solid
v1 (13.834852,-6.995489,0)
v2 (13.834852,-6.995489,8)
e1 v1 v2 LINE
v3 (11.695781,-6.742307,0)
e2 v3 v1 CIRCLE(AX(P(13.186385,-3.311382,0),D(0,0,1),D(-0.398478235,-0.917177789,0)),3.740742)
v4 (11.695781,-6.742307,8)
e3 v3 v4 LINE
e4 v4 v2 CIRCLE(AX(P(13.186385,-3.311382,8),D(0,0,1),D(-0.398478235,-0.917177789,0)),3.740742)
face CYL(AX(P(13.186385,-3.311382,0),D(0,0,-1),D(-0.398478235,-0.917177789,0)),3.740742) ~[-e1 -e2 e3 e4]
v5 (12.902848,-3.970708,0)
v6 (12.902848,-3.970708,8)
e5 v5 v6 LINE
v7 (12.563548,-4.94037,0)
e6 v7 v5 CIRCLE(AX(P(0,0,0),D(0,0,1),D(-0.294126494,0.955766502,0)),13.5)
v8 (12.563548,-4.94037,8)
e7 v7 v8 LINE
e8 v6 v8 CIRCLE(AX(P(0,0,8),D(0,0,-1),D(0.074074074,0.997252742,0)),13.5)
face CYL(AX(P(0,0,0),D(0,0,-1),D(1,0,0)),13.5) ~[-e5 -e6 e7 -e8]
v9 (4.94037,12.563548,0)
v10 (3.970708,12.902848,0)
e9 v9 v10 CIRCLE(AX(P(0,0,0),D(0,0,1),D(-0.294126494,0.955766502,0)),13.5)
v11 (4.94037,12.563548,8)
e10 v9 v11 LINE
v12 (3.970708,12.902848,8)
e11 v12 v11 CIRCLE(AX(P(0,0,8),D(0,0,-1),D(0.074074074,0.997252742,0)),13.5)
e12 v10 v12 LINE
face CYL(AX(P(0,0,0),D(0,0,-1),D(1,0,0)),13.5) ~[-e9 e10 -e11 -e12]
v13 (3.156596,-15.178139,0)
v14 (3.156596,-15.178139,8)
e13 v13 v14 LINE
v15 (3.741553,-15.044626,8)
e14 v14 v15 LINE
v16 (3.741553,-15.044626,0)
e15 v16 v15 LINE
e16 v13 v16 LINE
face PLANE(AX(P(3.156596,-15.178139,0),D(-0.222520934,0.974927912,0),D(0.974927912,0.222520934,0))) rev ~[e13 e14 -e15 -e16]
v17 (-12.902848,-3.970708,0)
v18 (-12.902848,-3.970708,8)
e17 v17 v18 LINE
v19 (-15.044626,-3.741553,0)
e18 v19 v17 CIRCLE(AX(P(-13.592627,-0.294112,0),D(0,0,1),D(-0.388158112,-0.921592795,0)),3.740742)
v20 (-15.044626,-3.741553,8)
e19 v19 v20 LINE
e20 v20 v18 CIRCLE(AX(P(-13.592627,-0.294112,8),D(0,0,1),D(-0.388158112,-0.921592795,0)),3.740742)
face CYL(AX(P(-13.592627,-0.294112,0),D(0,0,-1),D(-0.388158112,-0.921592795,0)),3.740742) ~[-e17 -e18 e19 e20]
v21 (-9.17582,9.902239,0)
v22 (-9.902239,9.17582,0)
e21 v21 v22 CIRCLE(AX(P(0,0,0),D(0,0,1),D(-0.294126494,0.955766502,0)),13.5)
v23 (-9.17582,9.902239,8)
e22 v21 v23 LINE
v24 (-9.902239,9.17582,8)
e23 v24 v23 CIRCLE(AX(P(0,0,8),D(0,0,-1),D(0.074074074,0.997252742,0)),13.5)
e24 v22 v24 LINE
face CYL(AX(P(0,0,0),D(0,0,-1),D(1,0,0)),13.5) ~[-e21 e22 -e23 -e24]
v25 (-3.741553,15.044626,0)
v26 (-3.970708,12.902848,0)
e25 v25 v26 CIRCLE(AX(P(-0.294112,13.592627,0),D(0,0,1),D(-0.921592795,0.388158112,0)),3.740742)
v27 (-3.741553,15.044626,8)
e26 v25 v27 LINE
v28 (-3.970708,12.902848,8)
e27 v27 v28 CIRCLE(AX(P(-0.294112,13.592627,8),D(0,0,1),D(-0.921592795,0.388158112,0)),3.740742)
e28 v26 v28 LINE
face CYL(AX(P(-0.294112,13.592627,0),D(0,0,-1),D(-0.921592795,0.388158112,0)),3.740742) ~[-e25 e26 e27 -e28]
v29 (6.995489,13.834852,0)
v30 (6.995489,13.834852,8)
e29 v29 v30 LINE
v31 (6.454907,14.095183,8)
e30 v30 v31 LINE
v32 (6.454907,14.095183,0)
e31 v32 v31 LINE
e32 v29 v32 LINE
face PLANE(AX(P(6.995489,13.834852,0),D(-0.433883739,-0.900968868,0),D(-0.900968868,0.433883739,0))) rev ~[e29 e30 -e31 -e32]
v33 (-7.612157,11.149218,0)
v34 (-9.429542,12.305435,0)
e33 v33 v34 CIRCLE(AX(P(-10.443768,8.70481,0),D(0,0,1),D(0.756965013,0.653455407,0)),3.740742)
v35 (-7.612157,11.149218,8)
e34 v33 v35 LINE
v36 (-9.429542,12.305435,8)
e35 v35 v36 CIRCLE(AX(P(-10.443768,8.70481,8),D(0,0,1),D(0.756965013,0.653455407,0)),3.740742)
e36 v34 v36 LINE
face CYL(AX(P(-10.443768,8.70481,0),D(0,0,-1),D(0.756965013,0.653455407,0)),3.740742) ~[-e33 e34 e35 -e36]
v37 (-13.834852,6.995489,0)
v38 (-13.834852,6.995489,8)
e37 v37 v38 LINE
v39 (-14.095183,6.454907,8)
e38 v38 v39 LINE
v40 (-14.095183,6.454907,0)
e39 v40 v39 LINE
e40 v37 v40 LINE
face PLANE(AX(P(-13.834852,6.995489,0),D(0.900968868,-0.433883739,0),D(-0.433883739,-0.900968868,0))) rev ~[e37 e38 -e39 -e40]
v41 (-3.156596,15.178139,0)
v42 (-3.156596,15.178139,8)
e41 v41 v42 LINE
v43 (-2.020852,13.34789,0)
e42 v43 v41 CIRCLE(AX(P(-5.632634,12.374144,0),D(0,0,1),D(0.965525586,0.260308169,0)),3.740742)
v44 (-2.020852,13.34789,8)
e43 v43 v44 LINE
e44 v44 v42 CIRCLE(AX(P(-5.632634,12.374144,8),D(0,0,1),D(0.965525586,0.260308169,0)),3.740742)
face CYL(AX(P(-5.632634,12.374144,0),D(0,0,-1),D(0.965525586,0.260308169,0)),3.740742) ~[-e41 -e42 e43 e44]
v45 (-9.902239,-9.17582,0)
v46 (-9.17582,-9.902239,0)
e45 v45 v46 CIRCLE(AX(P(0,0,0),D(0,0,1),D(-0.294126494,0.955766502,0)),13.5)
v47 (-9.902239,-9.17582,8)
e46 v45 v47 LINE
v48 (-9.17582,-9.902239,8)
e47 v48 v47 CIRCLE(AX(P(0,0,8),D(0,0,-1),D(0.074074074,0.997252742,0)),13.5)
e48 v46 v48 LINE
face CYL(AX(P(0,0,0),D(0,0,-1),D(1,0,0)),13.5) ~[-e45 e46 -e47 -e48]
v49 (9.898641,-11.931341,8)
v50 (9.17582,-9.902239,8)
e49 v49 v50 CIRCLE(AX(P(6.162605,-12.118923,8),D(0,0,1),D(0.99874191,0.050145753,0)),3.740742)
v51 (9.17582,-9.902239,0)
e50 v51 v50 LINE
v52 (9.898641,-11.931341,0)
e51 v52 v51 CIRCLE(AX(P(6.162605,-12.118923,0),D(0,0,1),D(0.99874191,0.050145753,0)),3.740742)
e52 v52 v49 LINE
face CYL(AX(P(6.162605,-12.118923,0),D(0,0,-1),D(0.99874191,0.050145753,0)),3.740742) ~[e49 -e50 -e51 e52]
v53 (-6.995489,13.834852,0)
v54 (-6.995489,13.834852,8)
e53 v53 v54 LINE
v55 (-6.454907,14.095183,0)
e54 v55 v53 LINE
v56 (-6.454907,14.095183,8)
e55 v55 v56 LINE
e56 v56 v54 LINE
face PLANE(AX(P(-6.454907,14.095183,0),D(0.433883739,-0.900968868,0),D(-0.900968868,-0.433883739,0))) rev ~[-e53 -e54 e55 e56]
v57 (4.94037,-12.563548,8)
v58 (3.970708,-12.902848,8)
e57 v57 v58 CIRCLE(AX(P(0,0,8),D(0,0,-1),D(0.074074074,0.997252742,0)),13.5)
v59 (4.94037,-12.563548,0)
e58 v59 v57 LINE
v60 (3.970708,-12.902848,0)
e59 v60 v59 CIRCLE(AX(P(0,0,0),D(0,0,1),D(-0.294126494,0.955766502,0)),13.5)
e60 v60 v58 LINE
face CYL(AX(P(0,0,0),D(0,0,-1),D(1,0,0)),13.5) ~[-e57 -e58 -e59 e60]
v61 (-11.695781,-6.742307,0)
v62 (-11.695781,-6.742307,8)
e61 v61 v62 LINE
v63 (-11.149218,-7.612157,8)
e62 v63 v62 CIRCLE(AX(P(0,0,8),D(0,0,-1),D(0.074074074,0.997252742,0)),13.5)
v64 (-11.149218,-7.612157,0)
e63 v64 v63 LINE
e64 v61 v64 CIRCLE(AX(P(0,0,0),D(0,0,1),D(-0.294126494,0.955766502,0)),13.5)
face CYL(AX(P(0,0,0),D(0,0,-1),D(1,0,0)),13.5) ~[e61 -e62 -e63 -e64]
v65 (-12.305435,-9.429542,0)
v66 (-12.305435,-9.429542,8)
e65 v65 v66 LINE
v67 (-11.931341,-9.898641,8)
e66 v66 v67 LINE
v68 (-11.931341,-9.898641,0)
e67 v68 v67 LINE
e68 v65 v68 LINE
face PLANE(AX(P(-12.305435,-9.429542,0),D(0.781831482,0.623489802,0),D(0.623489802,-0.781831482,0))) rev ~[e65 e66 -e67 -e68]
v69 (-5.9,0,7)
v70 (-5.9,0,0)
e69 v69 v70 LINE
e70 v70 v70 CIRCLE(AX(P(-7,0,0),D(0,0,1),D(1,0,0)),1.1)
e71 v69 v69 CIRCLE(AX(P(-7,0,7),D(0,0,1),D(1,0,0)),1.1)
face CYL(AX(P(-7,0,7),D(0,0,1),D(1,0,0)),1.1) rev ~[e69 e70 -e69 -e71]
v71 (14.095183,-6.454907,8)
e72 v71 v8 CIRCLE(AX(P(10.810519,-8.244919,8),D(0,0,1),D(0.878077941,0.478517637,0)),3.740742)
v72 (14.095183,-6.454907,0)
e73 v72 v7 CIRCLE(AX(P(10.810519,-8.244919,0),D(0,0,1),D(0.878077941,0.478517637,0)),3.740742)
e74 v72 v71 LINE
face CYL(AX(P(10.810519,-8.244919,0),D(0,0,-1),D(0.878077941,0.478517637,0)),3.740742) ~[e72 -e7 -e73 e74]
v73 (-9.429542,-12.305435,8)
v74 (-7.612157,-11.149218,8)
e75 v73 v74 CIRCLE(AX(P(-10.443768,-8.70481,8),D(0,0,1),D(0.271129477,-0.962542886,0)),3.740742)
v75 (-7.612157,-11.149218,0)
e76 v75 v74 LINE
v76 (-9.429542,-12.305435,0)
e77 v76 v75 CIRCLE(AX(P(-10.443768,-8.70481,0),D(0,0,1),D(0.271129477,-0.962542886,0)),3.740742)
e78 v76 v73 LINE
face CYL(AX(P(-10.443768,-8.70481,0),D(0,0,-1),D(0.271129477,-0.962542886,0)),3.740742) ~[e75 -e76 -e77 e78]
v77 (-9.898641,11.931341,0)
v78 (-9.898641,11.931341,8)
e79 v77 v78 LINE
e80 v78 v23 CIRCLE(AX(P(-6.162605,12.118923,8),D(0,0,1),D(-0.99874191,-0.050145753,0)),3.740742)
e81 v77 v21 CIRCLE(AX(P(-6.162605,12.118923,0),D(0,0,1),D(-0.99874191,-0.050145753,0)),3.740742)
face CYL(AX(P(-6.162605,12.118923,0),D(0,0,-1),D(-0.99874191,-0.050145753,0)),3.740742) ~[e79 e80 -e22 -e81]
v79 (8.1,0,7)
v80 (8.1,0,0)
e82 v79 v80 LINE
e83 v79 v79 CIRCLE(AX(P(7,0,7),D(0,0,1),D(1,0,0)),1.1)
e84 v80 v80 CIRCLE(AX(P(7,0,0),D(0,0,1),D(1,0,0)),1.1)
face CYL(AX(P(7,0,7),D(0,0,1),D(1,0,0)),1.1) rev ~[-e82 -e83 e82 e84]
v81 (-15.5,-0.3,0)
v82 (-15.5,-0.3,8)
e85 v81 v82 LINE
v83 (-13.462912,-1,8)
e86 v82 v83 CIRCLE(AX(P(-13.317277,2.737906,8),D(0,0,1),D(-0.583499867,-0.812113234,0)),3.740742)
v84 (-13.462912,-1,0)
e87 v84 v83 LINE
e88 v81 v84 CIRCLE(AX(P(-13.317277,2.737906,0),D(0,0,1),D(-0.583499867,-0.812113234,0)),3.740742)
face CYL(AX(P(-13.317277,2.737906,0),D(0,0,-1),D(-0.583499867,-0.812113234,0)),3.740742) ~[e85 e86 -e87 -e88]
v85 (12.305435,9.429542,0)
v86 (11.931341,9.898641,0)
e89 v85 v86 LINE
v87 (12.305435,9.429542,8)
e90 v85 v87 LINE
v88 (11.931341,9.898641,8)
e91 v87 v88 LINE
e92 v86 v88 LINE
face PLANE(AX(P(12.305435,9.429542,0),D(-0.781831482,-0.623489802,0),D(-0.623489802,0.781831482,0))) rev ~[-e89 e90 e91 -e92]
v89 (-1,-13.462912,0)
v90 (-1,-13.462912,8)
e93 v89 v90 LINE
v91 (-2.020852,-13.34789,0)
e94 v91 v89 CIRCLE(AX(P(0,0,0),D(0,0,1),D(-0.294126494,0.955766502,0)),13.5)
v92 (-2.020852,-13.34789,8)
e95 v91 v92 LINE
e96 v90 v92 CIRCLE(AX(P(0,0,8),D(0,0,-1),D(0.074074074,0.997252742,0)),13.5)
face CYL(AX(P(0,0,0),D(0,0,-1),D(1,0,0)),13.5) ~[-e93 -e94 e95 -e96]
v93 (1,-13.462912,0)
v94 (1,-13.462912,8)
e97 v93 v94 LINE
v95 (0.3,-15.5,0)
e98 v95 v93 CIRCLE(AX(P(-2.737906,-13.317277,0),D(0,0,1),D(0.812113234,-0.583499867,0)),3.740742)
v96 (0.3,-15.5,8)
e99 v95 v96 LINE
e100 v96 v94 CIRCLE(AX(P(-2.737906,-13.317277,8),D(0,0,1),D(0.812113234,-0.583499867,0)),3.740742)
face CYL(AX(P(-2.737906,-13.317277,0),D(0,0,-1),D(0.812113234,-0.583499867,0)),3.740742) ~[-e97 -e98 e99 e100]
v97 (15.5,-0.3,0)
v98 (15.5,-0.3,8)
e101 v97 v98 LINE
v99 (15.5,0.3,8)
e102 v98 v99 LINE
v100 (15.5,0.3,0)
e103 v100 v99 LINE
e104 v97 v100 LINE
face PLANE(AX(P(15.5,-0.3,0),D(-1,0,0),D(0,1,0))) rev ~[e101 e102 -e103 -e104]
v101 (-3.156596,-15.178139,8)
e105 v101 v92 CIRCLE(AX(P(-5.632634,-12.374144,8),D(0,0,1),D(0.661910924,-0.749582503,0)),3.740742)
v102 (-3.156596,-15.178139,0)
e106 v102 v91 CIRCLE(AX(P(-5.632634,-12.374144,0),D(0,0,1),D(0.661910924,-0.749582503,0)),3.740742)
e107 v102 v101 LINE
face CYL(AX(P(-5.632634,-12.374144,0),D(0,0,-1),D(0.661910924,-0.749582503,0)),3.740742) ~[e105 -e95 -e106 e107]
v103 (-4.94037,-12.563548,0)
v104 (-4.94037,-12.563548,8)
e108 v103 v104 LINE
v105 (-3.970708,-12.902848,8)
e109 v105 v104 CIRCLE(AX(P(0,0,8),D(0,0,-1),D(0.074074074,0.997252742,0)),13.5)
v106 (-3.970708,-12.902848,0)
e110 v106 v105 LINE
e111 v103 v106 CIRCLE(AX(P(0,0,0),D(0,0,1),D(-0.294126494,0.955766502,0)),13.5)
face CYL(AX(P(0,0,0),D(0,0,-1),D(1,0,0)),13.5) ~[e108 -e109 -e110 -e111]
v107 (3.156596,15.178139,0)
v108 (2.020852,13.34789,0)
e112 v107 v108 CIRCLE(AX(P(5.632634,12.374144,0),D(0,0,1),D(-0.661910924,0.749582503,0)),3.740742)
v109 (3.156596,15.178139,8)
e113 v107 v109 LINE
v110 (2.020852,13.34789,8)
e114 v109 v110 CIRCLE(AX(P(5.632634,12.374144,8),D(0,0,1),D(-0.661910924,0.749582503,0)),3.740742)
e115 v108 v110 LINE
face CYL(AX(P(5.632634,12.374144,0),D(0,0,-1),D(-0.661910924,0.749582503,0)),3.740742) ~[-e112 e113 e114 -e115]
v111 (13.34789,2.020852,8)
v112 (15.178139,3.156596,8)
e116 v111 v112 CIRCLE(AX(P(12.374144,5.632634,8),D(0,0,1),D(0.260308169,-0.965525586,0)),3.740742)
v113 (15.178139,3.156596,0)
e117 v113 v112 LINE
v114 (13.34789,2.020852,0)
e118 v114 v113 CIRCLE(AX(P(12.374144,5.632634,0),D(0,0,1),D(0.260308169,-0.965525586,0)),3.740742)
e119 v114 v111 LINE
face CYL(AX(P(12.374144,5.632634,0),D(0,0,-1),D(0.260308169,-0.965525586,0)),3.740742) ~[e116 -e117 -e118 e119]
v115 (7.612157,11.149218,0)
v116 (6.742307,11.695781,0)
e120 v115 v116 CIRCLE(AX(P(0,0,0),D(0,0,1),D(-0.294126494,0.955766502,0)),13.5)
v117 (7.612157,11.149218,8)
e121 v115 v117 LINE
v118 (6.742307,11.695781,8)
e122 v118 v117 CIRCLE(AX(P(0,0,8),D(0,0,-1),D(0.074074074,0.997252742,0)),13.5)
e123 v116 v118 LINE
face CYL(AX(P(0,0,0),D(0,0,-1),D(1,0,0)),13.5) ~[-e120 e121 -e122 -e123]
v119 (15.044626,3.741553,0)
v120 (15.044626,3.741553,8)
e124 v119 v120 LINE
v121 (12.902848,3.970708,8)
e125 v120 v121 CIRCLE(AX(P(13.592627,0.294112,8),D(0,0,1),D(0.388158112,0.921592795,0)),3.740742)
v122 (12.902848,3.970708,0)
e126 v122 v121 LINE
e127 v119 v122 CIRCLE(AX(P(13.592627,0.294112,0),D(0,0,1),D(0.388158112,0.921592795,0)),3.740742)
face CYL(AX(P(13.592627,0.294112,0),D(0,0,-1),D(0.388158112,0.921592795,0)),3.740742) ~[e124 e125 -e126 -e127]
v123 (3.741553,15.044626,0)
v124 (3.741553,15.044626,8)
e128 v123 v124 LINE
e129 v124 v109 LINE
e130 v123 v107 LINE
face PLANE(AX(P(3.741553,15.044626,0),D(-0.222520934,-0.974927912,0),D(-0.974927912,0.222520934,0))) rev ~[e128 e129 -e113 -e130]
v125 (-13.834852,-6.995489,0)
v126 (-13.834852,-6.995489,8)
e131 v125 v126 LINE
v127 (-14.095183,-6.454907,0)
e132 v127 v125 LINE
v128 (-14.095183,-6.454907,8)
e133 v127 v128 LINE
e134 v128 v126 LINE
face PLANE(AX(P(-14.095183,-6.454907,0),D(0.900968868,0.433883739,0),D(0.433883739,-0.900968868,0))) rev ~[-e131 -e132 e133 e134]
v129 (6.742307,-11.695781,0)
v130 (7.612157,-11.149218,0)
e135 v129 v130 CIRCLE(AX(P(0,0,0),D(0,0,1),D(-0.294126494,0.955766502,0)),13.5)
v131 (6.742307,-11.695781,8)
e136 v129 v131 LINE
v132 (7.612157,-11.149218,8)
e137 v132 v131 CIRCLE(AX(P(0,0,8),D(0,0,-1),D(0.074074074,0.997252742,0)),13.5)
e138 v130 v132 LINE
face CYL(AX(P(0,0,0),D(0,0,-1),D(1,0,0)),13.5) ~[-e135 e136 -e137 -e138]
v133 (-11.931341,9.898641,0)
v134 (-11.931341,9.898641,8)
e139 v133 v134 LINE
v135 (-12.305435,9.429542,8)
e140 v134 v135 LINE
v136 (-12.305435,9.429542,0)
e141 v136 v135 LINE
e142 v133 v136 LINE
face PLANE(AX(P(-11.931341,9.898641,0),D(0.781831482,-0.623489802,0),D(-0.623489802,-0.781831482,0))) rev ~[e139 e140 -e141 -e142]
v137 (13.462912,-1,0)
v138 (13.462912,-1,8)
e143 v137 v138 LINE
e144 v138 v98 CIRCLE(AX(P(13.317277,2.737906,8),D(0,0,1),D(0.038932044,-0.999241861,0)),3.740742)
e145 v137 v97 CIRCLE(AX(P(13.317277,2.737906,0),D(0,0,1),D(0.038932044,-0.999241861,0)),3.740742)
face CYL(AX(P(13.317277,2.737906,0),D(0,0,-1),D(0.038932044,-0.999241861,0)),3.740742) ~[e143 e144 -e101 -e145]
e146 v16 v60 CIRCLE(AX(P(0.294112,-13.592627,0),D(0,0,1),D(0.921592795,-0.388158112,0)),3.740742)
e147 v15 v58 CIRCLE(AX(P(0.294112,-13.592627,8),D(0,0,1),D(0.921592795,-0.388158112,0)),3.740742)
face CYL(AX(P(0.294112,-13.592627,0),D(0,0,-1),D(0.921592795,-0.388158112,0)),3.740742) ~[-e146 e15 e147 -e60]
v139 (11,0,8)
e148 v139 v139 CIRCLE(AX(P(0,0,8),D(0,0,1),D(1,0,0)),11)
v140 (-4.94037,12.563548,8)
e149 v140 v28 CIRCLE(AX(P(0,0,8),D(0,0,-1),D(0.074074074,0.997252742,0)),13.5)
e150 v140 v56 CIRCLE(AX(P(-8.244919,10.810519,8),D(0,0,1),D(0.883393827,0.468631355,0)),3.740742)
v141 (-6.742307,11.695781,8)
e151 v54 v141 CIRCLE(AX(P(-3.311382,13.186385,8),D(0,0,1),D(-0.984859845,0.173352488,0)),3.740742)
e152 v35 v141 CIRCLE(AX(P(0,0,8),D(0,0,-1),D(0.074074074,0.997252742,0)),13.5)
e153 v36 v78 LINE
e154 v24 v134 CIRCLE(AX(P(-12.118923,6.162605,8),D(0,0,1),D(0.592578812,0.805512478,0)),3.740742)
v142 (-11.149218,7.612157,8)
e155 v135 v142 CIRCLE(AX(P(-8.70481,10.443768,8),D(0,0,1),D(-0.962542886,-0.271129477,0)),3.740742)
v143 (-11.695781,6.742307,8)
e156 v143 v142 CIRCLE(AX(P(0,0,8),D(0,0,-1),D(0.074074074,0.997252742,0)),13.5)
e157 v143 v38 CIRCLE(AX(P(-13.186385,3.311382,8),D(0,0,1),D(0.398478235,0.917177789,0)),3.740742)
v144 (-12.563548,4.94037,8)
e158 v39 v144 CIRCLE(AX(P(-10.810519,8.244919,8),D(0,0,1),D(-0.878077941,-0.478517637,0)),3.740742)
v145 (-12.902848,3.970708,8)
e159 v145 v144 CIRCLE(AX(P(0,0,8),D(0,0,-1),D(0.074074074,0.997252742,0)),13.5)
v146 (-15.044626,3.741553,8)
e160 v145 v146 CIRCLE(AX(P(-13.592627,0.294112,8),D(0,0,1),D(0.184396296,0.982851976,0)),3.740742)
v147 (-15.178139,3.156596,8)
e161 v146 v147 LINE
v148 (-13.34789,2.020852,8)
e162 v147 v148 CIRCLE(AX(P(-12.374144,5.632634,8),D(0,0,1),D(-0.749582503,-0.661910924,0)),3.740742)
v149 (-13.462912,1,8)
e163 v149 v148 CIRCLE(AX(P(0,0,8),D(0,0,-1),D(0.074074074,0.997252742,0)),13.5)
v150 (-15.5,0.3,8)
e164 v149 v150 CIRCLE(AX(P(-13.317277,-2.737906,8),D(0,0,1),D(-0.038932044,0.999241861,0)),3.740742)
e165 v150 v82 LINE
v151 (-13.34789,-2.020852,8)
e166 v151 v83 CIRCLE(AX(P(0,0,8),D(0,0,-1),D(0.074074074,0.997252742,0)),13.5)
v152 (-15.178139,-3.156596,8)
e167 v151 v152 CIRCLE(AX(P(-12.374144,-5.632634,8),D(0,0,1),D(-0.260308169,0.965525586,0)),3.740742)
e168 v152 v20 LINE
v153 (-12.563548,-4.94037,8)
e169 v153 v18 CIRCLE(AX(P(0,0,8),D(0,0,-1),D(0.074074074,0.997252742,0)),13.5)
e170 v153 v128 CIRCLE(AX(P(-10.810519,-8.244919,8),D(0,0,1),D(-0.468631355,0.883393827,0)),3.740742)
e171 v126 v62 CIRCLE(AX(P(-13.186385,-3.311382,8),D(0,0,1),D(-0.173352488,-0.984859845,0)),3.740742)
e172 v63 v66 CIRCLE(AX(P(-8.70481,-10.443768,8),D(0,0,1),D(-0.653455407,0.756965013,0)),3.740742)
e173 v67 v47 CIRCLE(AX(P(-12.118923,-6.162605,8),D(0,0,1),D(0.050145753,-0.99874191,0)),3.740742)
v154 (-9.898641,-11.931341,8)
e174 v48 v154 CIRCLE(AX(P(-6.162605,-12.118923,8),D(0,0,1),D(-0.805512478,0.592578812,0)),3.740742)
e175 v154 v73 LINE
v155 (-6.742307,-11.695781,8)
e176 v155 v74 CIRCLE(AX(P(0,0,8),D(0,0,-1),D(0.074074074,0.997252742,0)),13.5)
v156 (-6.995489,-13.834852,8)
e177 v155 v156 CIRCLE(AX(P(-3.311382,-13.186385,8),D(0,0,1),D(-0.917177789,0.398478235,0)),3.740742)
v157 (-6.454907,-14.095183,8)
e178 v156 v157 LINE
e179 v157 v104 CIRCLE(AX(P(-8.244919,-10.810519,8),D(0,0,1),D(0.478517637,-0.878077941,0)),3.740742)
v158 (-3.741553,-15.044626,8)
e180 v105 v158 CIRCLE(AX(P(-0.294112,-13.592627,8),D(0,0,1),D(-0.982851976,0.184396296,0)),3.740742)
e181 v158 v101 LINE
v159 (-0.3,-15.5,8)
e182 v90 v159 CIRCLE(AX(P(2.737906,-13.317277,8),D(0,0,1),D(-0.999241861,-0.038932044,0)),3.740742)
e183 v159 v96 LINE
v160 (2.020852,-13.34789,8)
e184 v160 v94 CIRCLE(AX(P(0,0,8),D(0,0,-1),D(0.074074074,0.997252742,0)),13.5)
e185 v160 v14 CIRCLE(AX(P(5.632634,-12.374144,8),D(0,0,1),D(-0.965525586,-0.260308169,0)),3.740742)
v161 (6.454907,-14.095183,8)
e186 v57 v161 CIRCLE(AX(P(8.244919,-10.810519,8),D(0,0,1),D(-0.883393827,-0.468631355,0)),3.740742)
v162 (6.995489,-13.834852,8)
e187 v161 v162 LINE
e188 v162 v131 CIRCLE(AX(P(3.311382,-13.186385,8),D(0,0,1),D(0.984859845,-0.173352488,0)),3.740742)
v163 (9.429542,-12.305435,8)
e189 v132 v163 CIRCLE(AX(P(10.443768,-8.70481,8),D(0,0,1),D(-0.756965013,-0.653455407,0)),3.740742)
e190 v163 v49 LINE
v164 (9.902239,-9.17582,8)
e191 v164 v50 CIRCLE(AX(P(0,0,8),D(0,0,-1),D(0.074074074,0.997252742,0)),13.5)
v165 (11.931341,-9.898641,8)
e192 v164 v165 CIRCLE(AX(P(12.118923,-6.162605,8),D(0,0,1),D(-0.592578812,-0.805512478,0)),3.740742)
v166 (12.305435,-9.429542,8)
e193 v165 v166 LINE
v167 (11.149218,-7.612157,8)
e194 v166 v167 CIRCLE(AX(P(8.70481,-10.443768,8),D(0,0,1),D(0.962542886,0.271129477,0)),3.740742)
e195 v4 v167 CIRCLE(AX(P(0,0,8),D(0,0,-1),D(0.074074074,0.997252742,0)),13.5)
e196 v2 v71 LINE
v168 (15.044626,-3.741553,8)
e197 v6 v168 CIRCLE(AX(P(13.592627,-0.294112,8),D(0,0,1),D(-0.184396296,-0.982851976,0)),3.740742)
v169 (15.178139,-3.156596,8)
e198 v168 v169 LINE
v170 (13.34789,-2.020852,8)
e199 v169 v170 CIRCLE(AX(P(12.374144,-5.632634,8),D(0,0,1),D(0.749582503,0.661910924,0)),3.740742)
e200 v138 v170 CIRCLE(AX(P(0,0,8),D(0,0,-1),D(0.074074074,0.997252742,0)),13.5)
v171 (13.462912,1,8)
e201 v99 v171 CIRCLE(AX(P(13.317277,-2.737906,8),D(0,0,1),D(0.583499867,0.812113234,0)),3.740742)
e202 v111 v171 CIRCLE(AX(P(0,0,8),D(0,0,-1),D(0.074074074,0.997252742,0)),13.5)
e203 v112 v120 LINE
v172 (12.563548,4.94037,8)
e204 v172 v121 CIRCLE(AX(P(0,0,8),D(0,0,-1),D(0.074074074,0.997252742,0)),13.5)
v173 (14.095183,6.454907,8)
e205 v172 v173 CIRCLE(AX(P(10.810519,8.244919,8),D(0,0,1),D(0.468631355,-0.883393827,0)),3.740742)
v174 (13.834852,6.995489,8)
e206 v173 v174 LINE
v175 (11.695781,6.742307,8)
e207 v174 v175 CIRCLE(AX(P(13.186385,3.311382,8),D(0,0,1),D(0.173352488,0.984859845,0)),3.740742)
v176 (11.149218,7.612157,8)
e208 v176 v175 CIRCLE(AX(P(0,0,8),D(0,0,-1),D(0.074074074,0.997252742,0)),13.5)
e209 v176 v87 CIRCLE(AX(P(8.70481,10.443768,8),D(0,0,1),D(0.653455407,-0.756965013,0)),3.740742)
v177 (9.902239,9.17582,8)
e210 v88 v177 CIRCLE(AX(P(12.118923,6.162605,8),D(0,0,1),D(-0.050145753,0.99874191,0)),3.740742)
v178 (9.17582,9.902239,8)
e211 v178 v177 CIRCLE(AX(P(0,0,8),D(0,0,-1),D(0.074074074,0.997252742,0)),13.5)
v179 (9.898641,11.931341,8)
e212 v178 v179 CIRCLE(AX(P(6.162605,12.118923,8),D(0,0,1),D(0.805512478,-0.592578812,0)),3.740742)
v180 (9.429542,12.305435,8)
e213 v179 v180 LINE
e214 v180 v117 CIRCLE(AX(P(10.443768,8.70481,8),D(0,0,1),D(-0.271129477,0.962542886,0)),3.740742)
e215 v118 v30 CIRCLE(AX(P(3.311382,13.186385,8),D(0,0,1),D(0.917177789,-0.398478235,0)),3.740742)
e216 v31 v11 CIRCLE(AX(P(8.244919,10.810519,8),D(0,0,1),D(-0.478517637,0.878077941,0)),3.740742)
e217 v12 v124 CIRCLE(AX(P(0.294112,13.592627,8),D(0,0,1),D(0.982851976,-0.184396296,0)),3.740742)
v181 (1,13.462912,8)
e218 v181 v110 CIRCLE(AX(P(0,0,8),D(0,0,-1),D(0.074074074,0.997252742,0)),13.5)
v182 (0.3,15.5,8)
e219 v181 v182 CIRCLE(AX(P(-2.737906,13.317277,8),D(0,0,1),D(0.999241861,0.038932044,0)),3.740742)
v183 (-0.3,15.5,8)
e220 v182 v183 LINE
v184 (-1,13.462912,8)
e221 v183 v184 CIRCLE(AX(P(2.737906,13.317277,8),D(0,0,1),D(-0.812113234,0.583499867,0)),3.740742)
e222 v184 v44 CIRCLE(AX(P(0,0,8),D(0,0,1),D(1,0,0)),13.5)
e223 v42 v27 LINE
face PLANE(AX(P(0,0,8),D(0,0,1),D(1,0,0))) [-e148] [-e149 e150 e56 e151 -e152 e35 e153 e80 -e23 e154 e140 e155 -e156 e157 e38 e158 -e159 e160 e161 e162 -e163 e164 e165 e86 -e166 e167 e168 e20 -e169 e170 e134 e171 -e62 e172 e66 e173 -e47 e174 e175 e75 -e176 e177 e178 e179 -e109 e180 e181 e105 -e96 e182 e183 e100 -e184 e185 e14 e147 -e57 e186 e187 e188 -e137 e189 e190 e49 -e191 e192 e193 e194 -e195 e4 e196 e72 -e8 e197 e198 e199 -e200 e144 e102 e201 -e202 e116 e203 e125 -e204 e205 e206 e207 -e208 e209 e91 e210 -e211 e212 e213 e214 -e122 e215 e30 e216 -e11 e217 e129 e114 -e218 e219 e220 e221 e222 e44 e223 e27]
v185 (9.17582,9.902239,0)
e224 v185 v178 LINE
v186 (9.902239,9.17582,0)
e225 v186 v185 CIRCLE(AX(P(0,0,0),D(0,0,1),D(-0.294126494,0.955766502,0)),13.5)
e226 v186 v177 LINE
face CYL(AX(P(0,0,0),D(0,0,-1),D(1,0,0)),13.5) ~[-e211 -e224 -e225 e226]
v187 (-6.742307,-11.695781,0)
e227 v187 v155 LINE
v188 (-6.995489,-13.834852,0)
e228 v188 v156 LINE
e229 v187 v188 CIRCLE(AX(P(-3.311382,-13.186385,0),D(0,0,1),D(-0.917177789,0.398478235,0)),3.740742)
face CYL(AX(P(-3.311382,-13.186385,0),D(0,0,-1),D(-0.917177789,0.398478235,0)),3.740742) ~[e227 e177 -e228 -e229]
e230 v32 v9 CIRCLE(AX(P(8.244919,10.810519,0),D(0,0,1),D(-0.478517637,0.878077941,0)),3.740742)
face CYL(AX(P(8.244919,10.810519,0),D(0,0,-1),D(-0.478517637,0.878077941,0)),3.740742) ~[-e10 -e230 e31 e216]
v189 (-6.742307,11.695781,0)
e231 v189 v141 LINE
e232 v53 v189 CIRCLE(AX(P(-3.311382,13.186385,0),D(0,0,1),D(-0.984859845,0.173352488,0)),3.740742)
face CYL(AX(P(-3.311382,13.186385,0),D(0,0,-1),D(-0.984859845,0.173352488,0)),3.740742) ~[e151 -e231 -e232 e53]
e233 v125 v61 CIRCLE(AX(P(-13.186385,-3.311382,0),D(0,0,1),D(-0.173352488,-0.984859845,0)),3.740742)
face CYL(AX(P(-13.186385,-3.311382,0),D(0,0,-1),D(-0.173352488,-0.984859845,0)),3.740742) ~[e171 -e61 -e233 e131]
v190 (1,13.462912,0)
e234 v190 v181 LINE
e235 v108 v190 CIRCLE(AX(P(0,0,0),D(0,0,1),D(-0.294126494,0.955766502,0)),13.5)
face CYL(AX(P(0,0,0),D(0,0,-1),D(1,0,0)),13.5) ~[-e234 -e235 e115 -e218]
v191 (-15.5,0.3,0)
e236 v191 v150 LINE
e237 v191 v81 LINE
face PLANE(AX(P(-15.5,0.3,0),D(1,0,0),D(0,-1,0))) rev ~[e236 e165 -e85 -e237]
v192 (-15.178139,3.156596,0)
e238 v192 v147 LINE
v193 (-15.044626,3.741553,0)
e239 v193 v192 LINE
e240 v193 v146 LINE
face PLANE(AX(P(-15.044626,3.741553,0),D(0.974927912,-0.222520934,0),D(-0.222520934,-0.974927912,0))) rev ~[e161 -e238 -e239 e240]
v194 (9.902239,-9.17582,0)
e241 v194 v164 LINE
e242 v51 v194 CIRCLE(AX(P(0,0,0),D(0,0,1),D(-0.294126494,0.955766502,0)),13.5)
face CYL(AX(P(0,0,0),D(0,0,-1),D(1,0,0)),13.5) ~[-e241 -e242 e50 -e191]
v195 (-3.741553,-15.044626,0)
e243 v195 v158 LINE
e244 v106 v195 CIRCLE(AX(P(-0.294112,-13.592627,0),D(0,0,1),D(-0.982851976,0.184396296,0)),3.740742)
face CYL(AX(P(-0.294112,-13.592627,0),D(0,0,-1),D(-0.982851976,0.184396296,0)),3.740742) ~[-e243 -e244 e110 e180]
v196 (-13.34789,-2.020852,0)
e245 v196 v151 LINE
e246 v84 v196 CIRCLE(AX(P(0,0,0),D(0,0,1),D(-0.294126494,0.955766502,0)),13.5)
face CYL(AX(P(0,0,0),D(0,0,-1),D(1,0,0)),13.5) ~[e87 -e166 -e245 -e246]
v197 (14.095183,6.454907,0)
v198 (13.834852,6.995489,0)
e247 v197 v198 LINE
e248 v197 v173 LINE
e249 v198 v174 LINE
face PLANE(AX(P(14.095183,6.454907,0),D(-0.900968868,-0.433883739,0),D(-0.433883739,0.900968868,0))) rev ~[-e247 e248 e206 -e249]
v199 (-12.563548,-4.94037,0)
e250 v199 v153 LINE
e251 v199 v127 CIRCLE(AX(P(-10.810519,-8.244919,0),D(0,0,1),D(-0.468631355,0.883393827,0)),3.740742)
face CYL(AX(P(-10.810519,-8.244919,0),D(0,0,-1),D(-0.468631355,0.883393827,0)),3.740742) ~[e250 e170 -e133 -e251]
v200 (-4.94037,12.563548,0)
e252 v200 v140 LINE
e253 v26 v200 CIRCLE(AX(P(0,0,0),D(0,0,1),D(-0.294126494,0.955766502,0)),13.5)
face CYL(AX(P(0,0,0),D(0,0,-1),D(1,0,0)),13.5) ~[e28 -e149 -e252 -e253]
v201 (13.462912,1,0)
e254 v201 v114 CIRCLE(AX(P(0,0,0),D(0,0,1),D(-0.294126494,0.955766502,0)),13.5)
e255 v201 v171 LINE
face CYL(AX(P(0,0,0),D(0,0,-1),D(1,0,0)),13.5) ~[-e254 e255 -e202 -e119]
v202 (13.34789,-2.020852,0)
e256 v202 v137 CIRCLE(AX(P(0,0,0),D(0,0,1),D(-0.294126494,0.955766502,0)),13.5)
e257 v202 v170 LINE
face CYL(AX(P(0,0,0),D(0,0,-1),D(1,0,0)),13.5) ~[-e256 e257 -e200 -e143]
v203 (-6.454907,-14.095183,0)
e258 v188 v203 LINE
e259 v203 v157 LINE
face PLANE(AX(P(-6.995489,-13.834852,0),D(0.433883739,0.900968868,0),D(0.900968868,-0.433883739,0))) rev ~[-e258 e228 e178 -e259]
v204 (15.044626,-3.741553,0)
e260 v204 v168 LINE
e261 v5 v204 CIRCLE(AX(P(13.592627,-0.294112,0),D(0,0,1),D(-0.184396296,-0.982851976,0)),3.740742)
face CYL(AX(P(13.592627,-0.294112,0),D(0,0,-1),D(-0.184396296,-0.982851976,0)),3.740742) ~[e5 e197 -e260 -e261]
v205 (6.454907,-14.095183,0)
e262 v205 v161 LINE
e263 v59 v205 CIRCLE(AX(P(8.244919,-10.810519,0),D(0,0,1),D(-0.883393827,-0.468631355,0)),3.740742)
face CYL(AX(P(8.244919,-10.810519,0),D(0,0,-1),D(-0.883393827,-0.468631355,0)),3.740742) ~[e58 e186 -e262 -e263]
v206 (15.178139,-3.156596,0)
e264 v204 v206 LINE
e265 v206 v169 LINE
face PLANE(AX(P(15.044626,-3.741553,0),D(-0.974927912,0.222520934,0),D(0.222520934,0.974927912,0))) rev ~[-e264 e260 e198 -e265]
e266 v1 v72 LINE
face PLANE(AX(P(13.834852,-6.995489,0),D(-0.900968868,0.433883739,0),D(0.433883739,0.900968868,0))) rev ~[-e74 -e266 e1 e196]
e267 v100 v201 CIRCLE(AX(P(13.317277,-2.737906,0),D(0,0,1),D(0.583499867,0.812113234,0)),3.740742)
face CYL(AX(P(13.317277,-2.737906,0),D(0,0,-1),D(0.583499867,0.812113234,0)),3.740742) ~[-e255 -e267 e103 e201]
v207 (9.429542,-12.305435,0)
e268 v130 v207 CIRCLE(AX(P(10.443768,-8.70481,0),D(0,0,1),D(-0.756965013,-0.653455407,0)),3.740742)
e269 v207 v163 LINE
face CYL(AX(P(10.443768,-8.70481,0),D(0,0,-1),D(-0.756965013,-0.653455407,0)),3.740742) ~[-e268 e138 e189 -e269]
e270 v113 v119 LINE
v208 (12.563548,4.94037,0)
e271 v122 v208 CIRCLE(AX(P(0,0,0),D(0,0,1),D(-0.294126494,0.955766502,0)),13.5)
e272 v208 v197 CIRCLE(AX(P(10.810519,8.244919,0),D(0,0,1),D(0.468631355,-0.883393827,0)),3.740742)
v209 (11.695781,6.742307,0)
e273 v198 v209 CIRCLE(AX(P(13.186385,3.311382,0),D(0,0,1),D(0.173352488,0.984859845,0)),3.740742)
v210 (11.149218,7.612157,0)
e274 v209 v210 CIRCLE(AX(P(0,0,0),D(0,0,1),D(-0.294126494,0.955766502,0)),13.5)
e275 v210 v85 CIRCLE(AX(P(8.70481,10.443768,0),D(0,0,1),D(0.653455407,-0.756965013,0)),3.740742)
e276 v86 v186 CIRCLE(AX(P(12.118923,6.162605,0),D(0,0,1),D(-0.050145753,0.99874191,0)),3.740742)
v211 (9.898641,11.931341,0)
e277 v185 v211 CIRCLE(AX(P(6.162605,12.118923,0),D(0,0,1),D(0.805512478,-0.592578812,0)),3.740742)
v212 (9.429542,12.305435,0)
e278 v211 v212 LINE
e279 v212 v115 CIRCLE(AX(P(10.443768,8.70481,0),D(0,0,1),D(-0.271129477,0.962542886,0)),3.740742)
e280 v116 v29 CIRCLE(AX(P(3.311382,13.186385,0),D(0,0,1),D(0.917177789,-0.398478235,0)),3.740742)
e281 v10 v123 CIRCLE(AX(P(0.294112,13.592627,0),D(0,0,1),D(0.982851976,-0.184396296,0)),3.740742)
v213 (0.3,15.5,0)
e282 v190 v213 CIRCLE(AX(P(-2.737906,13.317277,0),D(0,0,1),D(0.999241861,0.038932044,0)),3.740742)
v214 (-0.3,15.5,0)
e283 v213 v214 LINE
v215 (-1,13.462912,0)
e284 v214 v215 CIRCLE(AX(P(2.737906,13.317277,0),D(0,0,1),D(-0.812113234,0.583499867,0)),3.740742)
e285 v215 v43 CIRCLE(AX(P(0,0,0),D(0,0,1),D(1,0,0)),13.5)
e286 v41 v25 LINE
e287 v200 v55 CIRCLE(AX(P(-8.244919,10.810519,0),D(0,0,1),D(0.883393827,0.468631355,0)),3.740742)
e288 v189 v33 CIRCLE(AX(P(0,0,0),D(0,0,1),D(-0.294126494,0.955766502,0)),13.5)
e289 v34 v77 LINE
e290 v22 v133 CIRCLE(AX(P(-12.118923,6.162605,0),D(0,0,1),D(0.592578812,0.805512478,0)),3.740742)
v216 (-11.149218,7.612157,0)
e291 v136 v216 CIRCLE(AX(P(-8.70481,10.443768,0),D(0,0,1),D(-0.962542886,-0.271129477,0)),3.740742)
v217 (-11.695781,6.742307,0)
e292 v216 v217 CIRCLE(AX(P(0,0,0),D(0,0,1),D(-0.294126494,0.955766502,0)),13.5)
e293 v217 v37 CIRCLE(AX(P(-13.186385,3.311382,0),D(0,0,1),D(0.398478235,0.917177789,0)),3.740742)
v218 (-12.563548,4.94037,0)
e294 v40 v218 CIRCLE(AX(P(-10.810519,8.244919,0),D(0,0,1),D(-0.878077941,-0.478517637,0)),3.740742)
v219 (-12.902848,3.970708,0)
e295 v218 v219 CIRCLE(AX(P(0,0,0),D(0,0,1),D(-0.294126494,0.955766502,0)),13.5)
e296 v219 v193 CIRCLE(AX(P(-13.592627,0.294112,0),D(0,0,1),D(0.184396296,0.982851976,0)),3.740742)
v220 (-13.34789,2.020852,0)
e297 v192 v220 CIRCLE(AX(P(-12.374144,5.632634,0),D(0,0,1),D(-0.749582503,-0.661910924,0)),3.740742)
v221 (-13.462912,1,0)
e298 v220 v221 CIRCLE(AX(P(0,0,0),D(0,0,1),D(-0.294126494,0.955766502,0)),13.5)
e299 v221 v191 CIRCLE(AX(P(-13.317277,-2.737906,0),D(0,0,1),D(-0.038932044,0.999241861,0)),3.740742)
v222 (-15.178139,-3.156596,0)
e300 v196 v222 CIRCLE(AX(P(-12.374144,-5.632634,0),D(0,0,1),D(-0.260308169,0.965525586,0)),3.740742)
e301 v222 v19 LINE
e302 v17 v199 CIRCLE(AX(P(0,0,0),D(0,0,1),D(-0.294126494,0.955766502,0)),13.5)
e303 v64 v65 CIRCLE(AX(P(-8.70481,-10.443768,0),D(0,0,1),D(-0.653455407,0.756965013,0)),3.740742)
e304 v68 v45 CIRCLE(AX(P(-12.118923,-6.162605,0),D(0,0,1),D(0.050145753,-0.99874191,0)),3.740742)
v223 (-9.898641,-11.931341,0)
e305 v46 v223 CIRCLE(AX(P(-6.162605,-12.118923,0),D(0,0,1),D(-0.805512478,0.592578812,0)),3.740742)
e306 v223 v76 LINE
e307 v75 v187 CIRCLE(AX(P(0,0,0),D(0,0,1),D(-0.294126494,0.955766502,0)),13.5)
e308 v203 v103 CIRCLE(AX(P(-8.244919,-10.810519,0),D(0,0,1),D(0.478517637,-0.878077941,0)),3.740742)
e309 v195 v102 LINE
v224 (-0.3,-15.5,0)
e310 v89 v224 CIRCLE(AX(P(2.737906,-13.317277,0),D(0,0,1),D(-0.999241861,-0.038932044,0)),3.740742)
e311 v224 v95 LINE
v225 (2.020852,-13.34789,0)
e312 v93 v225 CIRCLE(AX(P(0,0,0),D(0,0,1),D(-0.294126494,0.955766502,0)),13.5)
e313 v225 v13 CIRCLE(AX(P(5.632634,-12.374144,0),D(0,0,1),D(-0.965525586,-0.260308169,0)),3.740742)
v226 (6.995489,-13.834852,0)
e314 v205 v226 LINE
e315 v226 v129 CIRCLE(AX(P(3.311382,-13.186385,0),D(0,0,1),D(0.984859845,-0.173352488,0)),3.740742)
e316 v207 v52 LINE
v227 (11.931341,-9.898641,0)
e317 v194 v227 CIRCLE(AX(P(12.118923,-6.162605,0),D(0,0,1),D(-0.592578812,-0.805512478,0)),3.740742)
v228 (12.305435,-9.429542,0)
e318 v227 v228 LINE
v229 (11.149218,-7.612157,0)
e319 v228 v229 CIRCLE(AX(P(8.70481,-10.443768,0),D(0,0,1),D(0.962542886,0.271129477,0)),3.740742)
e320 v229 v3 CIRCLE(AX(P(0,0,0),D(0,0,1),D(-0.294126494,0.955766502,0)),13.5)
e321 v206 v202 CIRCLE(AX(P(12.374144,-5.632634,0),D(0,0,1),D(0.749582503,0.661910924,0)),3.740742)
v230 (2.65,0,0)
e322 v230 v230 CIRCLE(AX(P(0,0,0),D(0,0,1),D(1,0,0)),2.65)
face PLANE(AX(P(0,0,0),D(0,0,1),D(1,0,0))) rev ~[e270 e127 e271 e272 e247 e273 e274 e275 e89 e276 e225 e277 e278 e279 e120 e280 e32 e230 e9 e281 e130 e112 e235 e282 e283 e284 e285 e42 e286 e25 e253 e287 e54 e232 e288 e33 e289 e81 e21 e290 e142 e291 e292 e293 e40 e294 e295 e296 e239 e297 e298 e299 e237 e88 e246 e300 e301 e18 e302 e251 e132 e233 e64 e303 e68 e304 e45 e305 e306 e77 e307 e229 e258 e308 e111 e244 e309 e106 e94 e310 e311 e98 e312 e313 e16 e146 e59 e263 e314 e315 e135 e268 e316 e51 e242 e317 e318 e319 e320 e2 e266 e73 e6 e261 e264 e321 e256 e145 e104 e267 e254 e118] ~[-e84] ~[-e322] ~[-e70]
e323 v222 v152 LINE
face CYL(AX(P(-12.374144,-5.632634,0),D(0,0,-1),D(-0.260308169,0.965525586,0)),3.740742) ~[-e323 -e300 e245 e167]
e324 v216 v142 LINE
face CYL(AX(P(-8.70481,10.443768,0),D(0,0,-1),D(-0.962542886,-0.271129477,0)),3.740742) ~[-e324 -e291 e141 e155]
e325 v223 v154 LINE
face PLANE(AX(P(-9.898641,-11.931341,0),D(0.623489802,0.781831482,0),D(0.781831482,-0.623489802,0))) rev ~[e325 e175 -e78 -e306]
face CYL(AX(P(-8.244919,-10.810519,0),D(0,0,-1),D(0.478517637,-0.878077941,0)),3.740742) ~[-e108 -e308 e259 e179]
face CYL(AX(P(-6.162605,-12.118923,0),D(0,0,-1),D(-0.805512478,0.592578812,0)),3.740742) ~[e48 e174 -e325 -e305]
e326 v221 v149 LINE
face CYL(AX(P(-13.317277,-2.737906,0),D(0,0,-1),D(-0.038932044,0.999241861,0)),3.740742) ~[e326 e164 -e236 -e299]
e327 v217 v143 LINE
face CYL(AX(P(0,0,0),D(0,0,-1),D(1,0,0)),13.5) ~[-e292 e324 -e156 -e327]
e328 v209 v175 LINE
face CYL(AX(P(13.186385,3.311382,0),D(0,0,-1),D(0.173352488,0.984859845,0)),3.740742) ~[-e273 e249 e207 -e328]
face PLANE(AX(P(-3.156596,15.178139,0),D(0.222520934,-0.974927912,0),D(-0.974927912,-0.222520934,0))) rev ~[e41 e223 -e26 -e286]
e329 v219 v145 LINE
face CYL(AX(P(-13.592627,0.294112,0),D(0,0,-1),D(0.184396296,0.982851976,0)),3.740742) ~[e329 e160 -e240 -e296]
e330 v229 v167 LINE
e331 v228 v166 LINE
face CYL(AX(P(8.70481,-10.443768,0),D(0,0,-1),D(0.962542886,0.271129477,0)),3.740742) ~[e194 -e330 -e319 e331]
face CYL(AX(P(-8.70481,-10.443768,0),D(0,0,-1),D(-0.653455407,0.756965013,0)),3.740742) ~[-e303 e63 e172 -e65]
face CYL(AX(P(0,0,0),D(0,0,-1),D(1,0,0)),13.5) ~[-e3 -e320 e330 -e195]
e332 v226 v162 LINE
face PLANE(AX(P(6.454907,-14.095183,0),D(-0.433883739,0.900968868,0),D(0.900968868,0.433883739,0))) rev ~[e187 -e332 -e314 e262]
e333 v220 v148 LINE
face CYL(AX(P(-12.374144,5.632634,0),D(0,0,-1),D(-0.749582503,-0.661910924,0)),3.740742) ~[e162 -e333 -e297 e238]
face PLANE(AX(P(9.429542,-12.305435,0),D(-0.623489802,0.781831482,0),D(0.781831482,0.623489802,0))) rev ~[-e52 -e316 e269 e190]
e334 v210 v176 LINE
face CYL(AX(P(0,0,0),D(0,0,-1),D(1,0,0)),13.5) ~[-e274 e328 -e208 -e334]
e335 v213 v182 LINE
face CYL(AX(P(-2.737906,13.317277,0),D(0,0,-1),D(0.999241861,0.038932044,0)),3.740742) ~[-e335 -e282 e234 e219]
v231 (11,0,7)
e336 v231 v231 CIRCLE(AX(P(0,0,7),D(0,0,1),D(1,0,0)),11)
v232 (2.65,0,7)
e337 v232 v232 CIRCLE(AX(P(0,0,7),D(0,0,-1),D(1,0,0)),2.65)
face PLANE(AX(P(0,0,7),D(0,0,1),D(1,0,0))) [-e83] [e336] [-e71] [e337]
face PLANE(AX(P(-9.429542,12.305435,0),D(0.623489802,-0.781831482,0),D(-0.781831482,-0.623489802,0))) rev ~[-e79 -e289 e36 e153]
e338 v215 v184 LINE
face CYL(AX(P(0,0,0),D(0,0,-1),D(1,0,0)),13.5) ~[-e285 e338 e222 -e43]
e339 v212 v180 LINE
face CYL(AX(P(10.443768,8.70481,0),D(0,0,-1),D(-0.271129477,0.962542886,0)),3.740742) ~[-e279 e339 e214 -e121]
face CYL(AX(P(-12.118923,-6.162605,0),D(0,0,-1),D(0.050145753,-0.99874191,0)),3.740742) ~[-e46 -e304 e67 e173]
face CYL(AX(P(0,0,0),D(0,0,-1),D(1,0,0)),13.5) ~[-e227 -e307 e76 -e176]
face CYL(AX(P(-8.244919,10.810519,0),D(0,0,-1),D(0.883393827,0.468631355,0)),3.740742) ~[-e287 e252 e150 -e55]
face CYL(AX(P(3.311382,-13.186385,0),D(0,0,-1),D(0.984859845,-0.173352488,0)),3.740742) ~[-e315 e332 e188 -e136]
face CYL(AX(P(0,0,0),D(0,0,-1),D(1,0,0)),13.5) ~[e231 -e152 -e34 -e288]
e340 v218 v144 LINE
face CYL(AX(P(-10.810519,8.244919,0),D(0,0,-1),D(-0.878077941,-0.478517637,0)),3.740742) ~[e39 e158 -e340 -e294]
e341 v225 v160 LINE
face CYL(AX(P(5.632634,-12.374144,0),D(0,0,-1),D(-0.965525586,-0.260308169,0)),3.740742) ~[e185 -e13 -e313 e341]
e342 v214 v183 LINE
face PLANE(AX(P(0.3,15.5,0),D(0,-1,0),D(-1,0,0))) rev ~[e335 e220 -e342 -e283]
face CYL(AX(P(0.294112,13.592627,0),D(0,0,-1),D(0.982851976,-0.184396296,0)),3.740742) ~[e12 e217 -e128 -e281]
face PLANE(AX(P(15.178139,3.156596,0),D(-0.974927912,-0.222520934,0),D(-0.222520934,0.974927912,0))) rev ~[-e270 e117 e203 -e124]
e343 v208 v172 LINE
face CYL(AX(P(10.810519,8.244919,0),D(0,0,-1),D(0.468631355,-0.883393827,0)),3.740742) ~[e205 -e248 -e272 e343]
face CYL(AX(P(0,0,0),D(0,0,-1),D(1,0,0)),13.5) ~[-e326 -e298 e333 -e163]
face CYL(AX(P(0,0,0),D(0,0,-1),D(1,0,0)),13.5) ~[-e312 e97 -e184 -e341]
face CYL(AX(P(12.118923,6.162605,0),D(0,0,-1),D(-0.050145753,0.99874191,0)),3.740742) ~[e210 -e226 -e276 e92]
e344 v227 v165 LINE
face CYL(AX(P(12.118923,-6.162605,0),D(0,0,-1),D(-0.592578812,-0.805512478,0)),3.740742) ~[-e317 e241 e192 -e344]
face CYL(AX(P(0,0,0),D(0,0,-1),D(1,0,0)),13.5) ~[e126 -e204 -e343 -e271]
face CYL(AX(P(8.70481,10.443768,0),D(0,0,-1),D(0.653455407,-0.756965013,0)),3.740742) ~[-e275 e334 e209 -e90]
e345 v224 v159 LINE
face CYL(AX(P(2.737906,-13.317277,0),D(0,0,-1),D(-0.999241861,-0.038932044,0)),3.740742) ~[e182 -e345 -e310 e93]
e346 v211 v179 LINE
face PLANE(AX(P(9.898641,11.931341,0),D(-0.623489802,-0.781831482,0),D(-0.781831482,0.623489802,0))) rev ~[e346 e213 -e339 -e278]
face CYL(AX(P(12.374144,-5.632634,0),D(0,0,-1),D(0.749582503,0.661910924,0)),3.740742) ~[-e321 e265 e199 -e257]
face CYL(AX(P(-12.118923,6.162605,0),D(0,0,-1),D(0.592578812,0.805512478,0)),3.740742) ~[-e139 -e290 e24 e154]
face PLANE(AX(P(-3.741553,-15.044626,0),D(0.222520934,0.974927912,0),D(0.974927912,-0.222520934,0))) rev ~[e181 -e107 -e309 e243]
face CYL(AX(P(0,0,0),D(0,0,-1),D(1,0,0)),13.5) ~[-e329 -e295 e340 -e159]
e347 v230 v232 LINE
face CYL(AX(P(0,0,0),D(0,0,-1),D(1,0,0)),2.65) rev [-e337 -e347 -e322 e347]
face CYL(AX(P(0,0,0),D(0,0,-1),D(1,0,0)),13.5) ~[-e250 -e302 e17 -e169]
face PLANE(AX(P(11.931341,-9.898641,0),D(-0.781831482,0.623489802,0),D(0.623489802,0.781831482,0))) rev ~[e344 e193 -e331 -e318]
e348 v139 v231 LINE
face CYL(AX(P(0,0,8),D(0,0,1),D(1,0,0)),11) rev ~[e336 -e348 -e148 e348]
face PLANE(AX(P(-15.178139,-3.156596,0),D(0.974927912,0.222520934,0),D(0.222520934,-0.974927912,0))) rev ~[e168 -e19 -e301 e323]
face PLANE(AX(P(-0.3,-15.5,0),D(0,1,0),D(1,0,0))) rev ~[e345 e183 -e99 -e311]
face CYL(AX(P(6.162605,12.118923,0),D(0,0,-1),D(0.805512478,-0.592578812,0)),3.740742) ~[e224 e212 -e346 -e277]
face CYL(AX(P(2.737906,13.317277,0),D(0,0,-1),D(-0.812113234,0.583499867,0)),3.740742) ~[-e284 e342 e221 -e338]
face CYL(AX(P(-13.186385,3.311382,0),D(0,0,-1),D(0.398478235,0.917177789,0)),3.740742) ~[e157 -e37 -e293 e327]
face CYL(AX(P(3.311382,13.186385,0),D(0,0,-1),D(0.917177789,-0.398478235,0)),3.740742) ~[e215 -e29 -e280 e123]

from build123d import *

# Parameters (mm, degrees)
SKETCH2_R           = 2.65
BOSS_EXTRUDE1_DEPTH = 8
BOSS_EXTRUDE2_DEPTH = 8
CIRPATTERN1_COUNT   = 28
SKETCH3_R           = 11
CUT_EXTRUDE1_DEPTH  = 1
SKETCH4_R           = 1.1
CUT_EXTRUDE2_DEPTH  = 24.010866998


with BuildPart() as part:
    # Sketch2 → Boss-Extrude1 (new body)
    with BuildSketch(Plane.XY):
        with BuildLine():
            ThreePointArc((13.5, 0), (9.893179469, 9.185586535), (1, 13.462912018))
            ThreePointArc((1, 13.462912018), (0, 13.5), (-1, 13.462912018))
            ThreePointArc((-1, 13.462912018), (-9.185586535, -9.893179469), (13.5, 0))
        make_face()
        Circle(SKETCH2_R, mode=Mode.SUBTRACT)
    extrude(amount=BOSS_EXTRUDE1_DEPTH)

    # Sketch2<3> → Boss-Extrude2 (add)
    with BuildSketch(Plane.XY):
        with BuildLine():
            ThreePointArc((1, 13.462912018), (0.799796473, 14.532930237), (0.3, 15.5))
            Line((0.3, 15.5), (-0.3, 15.5))
            ThreePointArc((-0.3, 15.5), (-0.799796473, 14.532930237), (-1, 13.462912018))
            ThreePointArc((-1, 13.462912018), (0, 13.5), (1, 13.462912018))
        make_face()
    boss_extrude2 = extrude(amount=BOSS_EXTRUDE2_DEPTH)

    # CirPattern1: Boss-Extrude2 ×28 about axis
    cirpattern1_axis = Axis((0, 0, 8), (0, 0, 1))
    for i in range(1, CIRPATTERN1_COUNT):
        add(boss_extrude2.rotate(cirpattern1_axis, i * 360 / CIRPATTERN1_COUNT))

    # Sketch3 → Cut-Extrude1 (cut)
    with BuildSketch(Plane.XY.offset(8)):
        Circle(SKETCH3_R)
    extrude(amount=-CUT_EXTRUDE1_DEPTH, mode=Mode.SUBTRACT)

    # Sketch4 → Cut-Extrude2 (cut, through all)
    with BuildSketch(Plane.XY.offset(7)):
        with Locations((-7, 0)):
            Circle(SKETCH4_R)
        with Locations((7, 0)):
            Circle(SKETCH4_R)
    extrude(amount=-CUT_EXTRUDE2_DEPTH, mode=Mode.SUBTRACT)


solid = part.part
